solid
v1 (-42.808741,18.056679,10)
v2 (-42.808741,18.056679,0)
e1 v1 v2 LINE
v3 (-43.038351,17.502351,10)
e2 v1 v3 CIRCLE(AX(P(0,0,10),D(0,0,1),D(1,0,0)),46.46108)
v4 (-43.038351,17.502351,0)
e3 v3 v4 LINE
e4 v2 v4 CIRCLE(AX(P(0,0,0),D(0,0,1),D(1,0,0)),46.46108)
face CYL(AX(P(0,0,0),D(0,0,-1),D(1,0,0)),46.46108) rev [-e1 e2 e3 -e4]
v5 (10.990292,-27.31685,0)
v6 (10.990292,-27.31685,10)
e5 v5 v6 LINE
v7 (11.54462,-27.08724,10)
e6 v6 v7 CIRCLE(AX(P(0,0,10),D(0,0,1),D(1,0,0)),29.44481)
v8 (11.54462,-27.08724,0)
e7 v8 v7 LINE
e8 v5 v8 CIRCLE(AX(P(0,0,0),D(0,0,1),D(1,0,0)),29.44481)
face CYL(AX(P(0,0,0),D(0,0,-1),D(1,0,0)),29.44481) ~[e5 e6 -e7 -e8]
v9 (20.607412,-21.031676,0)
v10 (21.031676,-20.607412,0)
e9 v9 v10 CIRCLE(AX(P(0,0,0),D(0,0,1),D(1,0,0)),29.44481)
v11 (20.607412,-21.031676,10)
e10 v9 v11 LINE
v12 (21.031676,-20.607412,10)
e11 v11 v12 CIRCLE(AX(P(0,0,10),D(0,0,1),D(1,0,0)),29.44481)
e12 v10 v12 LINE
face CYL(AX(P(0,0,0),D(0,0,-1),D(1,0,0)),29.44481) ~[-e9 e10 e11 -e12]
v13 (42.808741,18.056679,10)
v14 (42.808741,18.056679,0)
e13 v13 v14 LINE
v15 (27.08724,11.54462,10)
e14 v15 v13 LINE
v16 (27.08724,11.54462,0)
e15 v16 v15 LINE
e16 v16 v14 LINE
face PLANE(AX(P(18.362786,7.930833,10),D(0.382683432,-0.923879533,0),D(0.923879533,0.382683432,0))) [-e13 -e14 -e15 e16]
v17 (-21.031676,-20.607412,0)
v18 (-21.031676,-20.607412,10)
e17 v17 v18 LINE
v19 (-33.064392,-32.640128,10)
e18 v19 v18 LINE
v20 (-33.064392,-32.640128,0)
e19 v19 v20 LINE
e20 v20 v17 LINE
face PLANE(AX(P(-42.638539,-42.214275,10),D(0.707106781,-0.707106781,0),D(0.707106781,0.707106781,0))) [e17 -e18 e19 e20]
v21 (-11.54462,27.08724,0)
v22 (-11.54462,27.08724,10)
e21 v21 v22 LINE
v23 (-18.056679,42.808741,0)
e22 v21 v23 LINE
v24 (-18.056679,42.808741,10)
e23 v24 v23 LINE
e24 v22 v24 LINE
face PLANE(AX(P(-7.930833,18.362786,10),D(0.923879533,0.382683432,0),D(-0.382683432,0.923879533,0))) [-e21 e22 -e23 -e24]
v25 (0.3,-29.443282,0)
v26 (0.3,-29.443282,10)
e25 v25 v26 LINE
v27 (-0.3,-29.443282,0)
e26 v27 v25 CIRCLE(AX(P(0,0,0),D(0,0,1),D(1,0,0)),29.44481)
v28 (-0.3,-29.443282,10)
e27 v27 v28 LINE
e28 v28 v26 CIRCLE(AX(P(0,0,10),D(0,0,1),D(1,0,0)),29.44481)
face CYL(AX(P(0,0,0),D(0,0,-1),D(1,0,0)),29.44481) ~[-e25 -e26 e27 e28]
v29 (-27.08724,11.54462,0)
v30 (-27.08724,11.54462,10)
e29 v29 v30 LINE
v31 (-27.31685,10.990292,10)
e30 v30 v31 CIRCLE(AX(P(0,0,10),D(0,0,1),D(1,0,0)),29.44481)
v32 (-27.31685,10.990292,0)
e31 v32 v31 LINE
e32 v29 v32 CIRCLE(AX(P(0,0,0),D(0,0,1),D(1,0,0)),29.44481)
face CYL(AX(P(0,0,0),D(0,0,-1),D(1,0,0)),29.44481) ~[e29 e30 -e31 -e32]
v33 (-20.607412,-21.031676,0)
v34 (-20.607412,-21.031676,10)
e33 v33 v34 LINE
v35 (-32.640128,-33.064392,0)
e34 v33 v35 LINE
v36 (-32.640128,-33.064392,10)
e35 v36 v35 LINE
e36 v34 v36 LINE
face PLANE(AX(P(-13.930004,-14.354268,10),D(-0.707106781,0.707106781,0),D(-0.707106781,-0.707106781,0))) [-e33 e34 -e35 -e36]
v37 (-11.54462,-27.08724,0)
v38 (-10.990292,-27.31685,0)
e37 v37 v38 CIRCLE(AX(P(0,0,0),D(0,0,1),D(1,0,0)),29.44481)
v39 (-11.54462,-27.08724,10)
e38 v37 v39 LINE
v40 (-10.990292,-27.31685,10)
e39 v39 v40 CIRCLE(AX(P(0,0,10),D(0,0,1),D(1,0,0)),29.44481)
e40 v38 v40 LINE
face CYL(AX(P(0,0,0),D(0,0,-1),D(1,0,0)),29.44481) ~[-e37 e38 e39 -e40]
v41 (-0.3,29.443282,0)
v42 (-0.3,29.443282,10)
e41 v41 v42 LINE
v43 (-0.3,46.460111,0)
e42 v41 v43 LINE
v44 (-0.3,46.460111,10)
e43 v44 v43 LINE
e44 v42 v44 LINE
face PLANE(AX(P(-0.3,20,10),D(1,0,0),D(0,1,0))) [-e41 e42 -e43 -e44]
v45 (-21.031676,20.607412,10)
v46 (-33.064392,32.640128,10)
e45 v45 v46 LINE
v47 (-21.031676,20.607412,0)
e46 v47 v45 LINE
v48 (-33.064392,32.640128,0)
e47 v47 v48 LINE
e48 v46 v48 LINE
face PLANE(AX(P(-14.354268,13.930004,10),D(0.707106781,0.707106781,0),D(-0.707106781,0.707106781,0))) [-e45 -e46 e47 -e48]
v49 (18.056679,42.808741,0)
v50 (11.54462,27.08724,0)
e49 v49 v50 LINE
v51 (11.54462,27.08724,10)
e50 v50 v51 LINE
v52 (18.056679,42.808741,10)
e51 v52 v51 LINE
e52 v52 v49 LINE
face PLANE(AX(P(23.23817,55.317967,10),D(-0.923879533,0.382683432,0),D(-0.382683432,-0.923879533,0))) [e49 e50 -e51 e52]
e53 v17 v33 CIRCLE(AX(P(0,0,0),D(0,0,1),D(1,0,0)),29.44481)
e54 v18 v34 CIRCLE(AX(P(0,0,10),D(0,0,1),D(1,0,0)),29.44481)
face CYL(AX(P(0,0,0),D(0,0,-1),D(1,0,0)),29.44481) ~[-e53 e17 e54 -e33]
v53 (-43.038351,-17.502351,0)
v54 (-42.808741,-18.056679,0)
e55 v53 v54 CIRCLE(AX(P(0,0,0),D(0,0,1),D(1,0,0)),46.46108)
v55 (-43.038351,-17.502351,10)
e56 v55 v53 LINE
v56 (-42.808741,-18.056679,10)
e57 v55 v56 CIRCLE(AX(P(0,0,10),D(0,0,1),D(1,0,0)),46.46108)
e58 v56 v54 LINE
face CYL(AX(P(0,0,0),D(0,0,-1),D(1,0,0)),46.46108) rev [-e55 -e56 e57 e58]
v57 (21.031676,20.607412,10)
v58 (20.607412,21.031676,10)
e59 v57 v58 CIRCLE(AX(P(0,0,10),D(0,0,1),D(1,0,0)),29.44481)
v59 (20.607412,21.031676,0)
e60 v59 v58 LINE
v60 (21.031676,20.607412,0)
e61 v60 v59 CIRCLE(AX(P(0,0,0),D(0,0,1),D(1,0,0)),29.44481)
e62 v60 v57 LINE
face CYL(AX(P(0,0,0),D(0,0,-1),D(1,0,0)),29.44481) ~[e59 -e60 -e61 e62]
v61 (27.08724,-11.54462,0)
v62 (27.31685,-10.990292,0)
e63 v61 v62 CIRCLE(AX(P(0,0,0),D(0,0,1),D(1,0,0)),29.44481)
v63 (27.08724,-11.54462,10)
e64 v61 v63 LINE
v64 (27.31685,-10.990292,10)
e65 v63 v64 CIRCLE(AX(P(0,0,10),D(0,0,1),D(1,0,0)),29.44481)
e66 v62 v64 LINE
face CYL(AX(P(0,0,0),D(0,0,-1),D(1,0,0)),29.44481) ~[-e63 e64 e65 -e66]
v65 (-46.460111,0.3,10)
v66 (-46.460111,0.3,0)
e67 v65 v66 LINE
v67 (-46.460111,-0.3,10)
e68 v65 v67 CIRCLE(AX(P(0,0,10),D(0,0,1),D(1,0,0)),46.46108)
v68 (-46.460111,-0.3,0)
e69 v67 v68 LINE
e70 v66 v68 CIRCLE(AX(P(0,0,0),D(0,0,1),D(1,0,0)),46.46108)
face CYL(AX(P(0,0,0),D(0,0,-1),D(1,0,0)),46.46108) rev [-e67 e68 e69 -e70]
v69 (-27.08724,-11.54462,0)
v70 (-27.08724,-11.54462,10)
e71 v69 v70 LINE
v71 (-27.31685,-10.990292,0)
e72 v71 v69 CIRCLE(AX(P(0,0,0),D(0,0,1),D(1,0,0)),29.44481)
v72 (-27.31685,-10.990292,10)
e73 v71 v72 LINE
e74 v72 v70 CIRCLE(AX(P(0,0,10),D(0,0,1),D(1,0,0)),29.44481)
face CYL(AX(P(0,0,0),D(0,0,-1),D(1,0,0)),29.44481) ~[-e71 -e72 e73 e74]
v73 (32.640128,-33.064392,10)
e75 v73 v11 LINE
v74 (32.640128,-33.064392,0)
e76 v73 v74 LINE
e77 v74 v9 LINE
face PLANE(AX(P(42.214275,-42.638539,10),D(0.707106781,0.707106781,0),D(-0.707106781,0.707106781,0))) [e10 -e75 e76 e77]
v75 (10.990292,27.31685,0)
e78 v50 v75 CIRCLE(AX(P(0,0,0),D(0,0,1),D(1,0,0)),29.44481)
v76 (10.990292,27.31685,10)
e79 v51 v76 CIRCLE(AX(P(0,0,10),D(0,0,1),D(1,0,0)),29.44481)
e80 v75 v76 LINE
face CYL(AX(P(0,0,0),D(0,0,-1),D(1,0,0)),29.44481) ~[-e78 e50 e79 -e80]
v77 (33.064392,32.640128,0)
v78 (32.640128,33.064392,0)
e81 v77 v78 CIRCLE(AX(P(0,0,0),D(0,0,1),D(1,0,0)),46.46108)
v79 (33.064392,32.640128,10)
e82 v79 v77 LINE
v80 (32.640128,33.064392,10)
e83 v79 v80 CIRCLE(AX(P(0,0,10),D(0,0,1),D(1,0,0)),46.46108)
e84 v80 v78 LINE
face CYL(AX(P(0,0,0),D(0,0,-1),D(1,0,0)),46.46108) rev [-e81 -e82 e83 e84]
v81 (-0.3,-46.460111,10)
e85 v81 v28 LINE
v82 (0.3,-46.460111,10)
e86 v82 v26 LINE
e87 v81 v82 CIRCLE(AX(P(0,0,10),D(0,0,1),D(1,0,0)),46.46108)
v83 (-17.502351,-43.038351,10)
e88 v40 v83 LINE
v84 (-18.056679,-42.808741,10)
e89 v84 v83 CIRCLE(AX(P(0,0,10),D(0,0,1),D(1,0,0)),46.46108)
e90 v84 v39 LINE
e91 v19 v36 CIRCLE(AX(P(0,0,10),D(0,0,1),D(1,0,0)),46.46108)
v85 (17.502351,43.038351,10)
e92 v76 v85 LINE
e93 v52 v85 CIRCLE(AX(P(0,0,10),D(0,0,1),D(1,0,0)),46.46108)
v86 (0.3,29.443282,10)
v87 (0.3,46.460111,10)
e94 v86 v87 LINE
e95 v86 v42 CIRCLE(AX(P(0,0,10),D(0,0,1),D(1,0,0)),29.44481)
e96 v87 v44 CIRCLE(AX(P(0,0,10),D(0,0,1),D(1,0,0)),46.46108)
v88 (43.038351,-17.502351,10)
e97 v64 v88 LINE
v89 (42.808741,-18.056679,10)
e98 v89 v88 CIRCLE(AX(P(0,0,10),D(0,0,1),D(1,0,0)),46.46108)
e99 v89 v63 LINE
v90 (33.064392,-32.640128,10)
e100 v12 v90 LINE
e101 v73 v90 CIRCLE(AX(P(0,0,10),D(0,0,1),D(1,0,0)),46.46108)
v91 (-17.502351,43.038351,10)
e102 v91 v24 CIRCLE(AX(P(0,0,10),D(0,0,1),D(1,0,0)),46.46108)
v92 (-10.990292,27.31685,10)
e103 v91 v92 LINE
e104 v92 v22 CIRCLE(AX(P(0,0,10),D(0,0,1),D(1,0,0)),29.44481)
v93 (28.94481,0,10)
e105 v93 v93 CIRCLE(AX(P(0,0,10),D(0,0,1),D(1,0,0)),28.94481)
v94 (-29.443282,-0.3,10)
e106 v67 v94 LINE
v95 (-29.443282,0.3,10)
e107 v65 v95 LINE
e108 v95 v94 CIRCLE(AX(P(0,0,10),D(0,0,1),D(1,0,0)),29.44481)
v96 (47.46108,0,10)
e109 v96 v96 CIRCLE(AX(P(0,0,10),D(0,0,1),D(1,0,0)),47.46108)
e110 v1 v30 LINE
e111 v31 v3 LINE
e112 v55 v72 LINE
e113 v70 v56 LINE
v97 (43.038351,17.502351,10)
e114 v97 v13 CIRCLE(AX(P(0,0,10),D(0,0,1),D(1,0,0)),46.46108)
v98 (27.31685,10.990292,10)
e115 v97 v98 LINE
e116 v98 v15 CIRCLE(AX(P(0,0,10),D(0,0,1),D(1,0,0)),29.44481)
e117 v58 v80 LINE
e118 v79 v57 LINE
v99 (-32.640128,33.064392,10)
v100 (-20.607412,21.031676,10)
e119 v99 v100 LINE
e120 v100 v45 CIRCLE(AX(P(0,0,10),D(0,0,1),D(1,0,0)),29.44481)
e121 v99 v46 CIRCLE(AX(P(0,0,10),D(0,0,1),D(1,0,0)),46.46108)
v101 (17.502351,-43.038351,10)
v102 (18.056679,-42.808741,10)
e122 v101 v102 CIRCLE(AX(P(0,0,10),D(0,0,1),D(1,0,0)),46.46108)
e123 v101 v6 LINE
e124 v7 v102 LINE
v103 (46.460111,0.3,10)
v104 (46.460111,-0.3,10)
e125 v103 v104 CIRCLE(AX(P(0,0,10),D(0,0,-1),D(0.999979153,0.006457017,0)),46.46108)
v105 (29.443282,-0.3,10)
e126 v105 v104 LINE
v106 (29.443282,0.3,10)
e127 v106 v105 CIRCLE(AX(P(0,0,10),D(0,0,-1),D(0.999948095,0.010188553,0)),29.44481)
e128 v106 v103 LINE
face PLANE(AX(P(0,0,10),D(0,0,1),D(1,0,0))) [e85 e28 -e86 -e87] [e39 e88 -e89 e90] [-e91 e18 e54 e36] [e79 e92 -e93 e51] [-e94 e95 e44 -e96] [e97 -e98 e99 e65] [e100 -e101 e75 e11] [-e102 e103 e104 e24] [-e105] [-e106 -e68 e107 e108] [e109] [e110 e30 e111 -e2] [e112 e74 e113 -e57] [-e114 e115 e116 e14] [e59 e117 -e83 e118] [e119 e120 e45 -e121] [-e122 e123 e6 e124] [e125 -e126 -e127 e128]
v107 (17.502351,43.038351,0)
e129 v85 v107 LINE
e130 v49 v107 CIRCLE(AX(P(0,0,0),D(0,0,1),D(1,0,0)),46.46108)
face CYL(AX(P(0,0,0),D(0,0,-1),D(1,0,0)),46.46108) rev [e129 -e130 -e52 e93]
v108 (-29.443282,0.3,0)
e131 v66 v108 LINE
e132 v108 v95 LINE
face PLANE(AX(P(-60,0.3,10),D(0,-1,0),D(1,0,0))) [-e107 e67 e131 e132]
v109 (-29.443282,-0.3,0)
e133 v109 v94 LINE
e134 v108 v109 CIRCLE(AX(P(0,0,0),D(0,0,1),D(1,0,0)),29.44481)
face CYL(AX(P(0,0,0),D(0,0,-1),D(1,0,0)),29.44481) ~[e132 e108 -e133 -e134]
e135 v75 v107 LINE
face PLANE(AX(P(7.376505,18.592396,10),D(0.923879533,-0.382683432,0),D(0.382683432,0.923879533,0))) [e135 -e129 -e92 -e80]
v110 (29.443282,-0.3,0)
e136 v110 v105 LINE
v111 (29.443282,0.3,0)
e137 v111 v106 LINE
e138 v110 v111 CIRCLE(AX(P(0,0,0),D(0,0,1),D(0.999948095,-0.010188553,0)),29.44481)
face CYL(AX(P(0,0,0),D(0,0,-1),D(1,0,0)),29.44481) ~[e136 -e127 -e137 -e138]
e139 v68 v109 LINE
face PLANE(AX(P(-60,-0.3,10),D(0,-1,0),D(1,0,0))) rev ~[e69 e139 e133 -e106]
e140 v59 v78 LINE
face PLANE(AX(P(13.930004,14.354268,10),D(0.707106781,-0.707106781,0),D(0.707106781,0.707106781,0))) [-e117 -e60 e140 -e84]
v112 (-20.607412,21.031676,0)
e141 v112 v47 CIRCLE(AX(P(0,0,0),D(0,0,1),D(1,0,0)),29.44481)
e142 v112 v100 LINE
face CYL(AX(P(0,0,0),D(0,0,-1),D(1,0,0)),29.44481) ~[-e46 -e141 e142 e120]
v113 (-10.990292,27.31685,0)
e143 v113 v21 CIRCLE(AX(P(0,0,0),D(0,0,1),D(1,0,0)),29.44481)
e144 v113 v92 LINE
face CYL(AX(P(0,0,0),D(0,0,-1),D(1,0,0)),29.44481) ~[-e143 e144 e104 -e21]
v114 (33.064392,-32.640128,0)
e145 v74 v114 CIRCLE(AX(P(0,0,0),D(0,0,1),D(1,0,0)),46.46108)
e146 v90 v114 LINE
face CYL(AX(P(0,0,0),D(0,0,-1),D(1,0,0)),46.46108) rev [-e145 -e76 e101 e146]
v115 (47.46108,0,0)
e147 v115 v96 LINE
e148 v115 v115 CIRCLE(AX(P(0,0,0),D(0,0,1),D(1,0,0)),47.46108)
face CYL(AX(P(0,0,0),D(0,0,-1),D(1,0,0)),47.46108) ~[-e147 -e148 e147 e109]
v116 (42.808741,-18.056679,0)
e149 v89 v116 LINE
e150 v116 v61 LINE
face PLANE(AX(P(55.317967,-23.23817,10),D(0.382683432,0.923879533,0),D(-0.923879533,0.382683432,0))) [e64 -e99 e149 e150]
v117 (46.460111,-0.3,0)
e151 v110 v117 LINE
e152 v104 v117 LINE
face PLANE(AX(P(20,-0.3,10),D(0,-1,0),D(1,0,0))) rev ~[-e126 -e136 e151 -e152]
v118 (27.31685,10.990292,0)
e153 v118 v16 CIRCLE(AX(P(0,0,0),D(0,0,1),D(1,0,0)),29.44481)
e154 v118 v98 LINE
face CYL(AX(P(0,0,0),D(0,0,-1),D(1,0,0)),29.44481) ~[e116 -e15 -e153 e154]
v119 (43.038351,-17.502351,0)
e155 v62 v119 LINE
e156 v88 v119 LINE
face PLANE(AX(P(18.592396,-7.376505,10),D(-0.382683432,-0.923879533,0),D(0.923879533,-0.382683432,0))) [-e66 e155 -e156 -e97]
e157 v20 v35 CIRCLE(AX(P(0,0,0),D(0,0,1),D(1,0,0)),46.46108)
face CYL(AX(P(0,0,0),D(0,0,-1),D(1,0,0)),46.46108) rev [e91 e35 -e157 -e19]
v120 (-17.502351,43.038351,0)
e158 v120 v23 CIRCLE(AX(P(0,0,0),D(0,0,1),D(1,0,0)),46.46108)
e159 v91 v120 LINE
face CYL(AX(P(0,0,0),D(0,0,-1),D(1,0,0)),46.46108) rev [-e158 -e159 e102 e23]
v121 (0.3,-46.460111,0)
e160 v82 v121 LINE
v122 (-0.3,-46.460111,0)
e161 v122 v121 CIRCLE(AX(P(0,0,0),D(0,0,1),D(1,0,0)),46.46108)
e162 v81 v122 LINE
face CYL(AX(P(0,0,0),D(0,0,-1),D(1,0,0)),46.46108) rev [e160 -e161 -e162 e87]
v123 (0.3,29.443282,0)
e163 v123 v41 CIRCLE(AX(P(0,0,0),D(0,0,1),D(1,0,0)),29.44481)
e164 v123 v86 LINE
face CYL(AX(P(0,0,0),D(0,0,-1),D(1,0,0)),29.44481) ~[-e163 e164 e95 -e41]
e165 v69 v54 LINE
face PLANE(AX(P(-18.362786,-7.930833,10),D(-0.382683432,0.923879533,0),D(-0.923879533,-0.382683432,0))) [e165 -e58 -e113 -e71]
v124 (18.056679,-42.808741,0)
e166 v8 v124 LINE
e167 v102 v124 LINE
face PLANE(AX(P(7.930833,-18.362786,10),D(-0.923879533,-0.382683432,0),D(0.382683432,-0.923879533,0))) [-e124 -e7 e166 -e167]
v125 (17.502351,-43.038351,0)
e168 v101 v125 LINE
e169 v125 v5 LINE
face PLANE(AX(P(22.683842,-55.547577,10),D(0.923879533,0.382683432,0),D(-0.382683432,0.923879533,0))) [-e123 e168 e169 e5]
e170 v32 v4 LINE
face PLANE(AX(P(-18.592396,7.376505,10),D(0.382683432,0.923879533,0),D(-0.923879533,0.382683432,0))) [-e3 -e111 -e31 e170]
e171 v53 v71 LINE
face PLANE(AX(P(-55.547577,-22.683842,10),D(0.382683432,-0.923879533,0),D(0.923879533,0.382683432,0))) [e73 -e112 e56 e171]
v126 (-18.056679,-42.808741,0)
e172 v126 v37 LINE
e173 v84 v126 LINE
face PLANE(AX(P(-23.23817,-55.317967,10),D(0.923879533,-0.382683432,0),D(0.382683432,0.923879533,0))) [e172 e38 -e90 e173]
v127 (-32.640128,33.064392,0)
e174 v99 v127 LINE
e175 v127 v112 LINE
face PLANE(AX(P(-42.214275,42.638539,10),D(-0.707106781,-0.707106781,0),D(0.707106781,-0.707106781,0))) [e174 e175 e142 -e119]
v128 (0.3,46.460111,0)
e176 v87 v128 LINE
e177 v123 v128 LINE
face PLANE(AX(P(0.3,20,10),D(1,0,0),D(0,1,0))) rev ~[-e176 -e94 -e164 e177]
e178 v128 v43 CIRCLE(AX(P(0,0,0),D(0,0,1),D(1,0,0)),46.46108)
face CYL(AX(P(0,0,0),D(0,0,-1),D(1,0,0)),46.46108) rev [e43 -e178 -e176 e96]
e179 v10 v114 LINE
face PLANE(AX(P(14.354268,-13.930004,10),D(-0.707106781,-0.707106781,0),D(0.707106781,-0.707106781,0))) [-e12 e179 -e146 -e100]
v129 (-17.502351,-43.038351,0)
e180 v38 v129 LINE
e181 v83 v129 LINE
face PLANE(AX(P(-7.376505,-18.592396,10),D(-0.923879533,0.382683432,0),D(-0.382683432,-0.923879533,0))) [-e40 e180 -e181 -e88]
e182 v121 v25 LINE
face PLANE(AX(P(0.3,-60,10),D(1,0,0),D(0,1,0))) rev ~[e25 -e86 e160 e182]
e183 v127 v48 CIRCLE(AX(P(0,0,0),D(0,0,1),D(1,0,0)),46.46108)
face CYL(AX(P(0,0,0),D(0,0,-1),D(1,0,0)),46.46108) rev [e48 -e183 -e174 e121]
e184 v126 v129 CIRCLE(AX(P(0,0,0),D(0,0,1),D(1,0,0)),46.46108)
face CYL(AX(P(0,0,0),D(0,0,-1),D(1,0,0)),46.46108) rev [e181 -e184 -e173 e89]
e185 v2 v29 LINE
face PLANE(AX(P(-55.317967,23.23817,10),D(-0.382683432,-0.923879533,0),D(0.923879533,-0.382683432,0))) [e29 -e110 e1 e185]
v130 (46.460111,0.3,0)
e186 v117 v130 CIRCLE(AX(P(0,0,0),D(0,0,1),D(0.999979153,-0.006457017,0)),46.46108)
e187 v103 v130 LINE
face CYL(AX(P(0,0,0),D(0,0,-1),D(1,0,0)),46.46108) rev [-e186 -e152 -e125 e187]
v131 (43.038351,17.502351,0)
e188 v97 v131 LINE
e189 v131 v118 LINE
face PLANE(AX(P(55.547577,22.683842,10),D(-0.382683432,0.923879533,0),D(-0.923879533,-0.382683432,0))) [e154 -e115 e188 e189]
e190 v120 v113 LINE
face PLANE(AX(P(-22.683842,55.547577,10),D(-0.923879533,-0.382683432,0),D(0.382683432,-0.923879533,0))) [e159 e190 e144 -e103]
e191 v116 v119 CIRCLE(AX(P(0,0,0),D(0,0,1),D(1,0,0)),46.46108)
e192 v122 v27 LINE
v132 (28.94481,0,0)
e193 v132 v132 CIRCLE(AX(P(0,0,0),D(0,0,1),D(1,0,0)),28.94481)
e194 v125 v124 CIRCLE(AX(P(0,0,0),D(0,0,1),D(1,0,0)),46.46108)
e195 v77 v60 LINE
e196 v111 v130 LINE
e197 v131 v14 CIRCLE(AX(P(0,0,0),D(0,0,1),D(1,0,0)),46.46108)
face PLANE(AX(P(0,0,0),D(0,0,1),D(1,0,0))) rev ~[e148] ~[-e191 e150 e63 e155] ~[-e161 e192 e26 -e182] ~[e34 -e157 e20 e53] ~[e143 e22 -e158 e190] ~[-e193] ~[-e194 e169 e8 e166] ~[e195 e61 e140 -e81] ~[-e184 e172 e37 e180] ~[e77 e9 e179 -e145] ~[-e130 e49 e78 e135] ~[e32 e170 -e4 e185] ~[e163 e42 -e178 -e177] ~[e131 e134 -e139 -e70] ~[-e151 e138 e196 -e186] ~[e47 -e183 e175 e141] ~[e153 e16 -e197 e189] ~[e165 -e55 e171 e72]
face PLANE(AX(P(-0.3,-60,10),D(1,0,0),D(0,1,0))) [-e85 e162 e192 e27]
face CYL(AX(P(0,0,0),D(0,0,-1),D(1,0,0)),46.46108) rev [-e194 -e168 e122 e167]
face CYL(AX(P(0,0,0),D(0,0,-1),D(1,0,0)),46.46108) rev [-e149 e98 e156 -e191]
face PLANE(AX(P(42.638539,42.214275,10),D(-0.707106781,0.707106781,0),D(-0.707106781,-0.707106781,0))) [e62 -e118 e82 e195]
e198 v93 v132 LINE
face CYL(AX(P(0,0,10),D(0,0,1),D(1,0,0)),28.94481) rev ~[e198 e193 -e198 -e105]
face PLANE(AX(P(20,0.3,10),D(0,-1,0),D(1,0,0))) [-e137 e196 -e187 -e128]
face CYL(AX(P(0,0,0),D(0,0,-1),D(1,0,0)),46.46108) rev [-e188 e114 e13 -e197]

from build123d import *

# Parameters (mm, degrees)
ESQUISSE1_R             = 46.46108
BOSS_EXTRU_1_DEPTH      = 10
ESQUISSE2_R             = 29.44481
ENL_V_MAT_EXTRU_1_DEPTH = 67.462500025
ESQUISSE4_W             = 0.6
ESQUISSE4_H             = 40
ESQUISSE4_W_2           = 40
ESQUISSE4_H_2           = 0.6
ENL_V_MAT_EXTRU_2_DEPTH = 10
ESQUISSE5_R             = 29.44481
BOSS_EXTRU_2_DEPTH      = 10
ESQUISSE6_R             = 28.94481
ENL_V_MAT_EXTRU_3_DEPTH = 67.461145864
ESQUISSE7_R             = 47.46108
ESQUISSE7_R_2           = 46.46108
BOSS_EXTRU_3_DEPTH      = 10


with BuildPart() as part:
    # Esquisse1 → Boss.-Extru.1 (new body)
    with BuildSketch(Plane.XY):
        Circle(ESQUISSE1_R)
    extrude(amount=BOSS_EXTRU_1_DEPTH)

    # Esquisse2 → Enlèv. mat.-Extru.1 (cut, through all)
    with BuildSketch(Plane.XY.offset(10)):
        Circle(ESQUISSE2_R)
    extrude(amount=-ENL_V_MAT_EXTRU_1_DEPTH, mode=Mode.SUBTRACT)

    # Esquisse4 → Enlèv. mat.-Extru.2 (cut)
    with BuildSketch(Plane.XY.offset(10)):
        Polygon((23.238169802, 55.317966921), (7.930832507, 18.362785621), (7.376504788, 18.59239568), (22.683842082, 55.54757698), align=None)
        with Locations((0, 40)):
            Rectangle(ESQUISSE4_W, ESQUISSE4_H)
        Polygon((42.638538906, 42.214274837), (14.354267658, 13.930003589), (13.930003589, 14.354267658), (42.214274837, 42.638538906), align=None)
        Polygon((55.54757698, 22.683842082), (18.59239568, 7.376504788), (18.362785621, 7.930832507), (55.317966921, 23.238169802), align=None)
        with Locations((40, 0)):
            Rectangle(ESQUISSE4_W_2, ESQUISSE4_H_2)
        Polygon((55.317966921, -23.238169802), (18.362785621, -7.930832507), (18.59239568, -7.376504788), (55.54757698, -22.683842082), align=None)
        Polygon((42.214274837, -42.638538906), (13.930003589, -14.354267658), (14.354267658, -13.930003589), (42.638538906, -42.214274837), align=None)
        Polygon((22.683842082, -55.54757698), (7.376504788, -18.59239568), (7.930832507, -18.362785621), (23.238169802, -55.317966921), align=None)
        with Locations((0, -40)):
            Rectangle(ESQUISSE4_W, ESQUISSE4_H)
        Polygon((-23.238169802, -55.317966921), (-7.930832507, -18.362785621), (-7.376504788, -18.59239568), (-22.683842082, -55.54757698), align=None)
        Polygon((-42.638538906, -42.214274837), (-14.354267658, -13.930003589), (-13.930003589, -14.354267658), (-42.214274837, -42.638538906), align=None)
        Polygon((-55.54757698, -22.683842082), (-18.59239568, -7.376504788), (-18.362785621, -7.930832507), (-55.317966921, -23.238169802), align=None)
        with Locations((-40, 0)):
            Rectangle(ESQUISSE4_W_2, ESQUISSE4_H_2)
        Polygon((-55.317966921, 23.238169802), (-18.362785621, 7.930832507), (-18.59239568, 7.376504788), (-55.54757698, 22.683842082), align=None)
        Polygon((-42.214274837, 42.638538906), (-13.930003589, 14.354267658), (-14.354267658, 13.930003589), (-42.638538906, 42.214274837), align=None)
        Polygon((-22.683842082, 55.54757698), (-7.376504788, 18.59239568), (-7.930832507, 18.362785621), (-23.238169802, 55.317966921), align=None)
    extrude(amount=-ENL_V_MAT_EXTRU_2_DEPTH, mode=Mode.SUBTRACT)


with BuildPart() as enl_v_mat_extru_2_piece_1:
    # of the separate pieces the step leaves, piece 1, a body of its own (enl_v_mat_extru_2_pieces)
    add(part.part.solids().sort_by_distance((-32.640127818, -33.064391886, 0))[0])



with BuildPart() as enl_v_mat_extru_2_piece_2:
    # of the separate pieces the step leaves, piece 2, a body of its own (enl_v_mat_extru_2_pieces)
    add(part.part.solids().sort_by_distance((-18.056678773, 42.808741005, 0))[0])


with BuildPart() as enl_v_mat_extru_2_piece_3:
    # of the separate pieces the step leaves, piece 3, a body of its own (enl_v_mat_extru_2_pieces)
    add(part.part.solids().sort_by_distance((-42.808741005, -18.056678773, 0))[0])


with BuildPart() as enl_v_mat_extru_2_piece_4:
    # of the separate pieces the step leaves, piece 4, a body of its own (enl_v_mat_extru_2_pieces)
    add(part.part.solids().sort_by_distance((-33.064391886, 32.640127818, 0))[0])


with BuildPart() as enl_v_mat_extru_2_piece_5:
    # of the separate pieces the step leaves, piece 5, a body of its own (enl_v_mat_extru_2_pieces)
    add(part.part.solids().sort_by_distance((17.502351053, 43.038351065, 0))[0])


with BuildPart() as enl_v_mat_extru_2_piece_6:
    # of the separate pieces the step leaves, piece 6, a body of its own (enl_v_mat_extru_2_pieces)
    add(part.part.solids().sort_by_distance((0.3, -46.460111437, 0))[0])


with BuildPart() as enl_v_mat_extru_2_piece_7:
    # of the separate pieces the step leaves, piece 7, a body of its own (enl_v_mat_extru_2_pieces)
    add(part.part.solids().sort_by_distance((-0.3, 46.460111437, 0))[0])


with BuildPart() as enl_v_mat_extru_2_piece_8:
    # of the separate pieces the step leaves, piece 8, a body of its own (enl_v_mat_extru_2_pieces)
    add(part.part.solids().sort_by_distance((46.460111437, 0.3, 0))[0])


with BuildPart() as enl_v_mat_extru_2_piece_9:
    # of the separate pieces the step leaves, piece 9, a body of its own (enl_v_mat_extru_2_pieces)
    add(part.part.solids().sort_by_distance((43.038351065, -17.502351053, 0))[0])


with BuildPart() as enl_v_mat_extru_2_piece_10:
    # of the separate pieces the step leaves, piece 10, a body of its own (enl_v_mat_extru_2_pieces)
    add(part.part.solids().sort_by_distance((-17.502351053, -43.038351065, 0))[0])


with BuildPart() as enl_v_mat_extru_2_piece_11:
    # of the separate pieces the step leaves, piece 11, a body of its own (enl_v_mat_extru_2_pieces)
    add(part.part.solids().sort_by_distance((32.640127818, 33.064391886, 0))[0])


with BuildPart() as enl_v_mat_extru_2_piece_12:
    # of the separate pieces the step leaves, piece 12, a body of its own (enl_v_mat_extru_2_pieces)
    add(part.part.solids().sort_by_distance((42.808741005, 18.056678773, 0))[0])


with BuildPart() as enl_v_mat_extru_2_piece_13:
    # of the separate pieces the step leaves, piece 13, a body of its own (enl_v_mat_extru_2_pieces)
    add(part.part.solids().sort_by_distance((18.056678773, -42.808741005, 0))[0])


with BuildPart() as enl_v_mat_extru_2_piece_14:
    # of the separate pieces the step leaves, piece 14, a body of its own (enl_v_mat_extru_2_pieces)
    add(part.part.solids().sort_by_distance((33.064391886, -32.640127818, 0))[0])


with BuildPart() as enl_v_mat_extru_2_piece_15:
    # of the separate pieces the step leaves, piece 15, a body of its own (enl_v_mat_extru_2_pieces)
    add(part.part.solids().sort_by_distance((-46.460111437, -0.3, 0))[0])


with BuildPart() as enl_v_mat_extru_2_piece_16:
    # of the separate pieces the step leaves, piece 16, a body of its own (enl_v_mat_extru_2_pieces)
    add(part.part.solids().sort_by_distance((-43.038351065, 17.502351053, 0))[0])


with BuildPart() as enl_v_mat_extru_2_piece_1_1:
    add(enl_v_mat_extru_2_piece_1.part)

    add(enl_v_mat_extru_2_piece_2.part)  # Boss.-Extru.2 merges Enlèv. mat.-Extru.2 piece 2

    add(enl_v_mat_extru_2_piece_3.part)  # Boss.-Extru.2 merges Enlèv. mat.-Extru.2 piece 3

    add(enl_v_mat_extru_2_piece_4.part)  # Boss.-Extru.2 merges Enlèv. mat.-Extru.2 piece 4

    add(enl_v_mat_extru_2_piece_5.part)  # Boss.-Extru.2 merges Enlèv. mat.-Extru.2 piece 5

    add(enl_v_mat_extru_2_piece_6.part)  # Boss.-Extru.2 merges Enlèv. mat.-Extru.2 piece 6

    add(enl_v_mat_extru_2_piece_7.part)  # Boss.-Extru.2 merges Enlèv. mat.-Extru.2 piece 7

    add(enl_v_mat_extru_2_piece_8.part)  # Boss.-Extru.2 merges Enlèv. mat.-Extru.2 piece 8

    add(enl_v_mat_extru_2_piece_9.part)  # Boss.-Extru.2 merges Enlèv. mat.-Extru.2 piece 9

    add(enl_v_mat_extru_2_piece_10.part)  # Boss.-Extru.2 merges Enlèv. mat.-Extru.2 piece 10

    add(enl_v_mat_extru_2_piece_11.part)  # Boss.-Extru.2 merges Enlèv. mat.-Extru.2 piece 11

    add(enl_v_mat_extru_2_piece_12.part)  # Boss.-Extru.2 merges Enlèv. mat.-Extru.2 piece 12

    add(enl_v_mat_extru_2_piece_13.part)  # Boss.-Extru.2 merges Enlèv. mat.-Extru.2 piece 13

    add(enl_v_mat_extru_2_piece_14.part)  # Boss.-Extru.2 merges Enlèv. mat.-Extru.2 piece 14

    add(enl_v_mat_extru_2_piece_15.part)  # Boss.-Extru.2 merges Enlèv. mat.-Extru.2 piece 15

    add(enl_v_mat_extru_2_piece_16.part)  # Boss.-Extru.2 merges Enlèv. mat.-Extru.2 piece 16
    # Esquisse5 → Boss.-Extru.2 (add)
    with BuildSketch(Plane.XY):
        Circle(ESQUISSE5_R)
    extrude(amount=BOSS_EXTRU_2_DEPTH)

    # Esquisse6 → Enlèv. mat.-Extru.3 (cut, through all)
    with BuildSketch(Plane.XY.offset(10)):
        Circle(ESQUISSE6_R)
    extrude(amount=-ENL_V_MAT_EXTRU_3_DEPTH, mode=Mode.SUBTRACT)

    # Esquisse7 → Boss.-Extru.3 (add)
    with BuildSketch(Plane.XY):
        Circle(ESQUISSE7_R)
        Circle(ESQUISSE7_R_2, mode=Mode.SUBTRACT)
    extrude(amount=BOSS_EXTRU_3_DEPTH)


solid = enl_v_mat_extru_2_piece_1_1.part
